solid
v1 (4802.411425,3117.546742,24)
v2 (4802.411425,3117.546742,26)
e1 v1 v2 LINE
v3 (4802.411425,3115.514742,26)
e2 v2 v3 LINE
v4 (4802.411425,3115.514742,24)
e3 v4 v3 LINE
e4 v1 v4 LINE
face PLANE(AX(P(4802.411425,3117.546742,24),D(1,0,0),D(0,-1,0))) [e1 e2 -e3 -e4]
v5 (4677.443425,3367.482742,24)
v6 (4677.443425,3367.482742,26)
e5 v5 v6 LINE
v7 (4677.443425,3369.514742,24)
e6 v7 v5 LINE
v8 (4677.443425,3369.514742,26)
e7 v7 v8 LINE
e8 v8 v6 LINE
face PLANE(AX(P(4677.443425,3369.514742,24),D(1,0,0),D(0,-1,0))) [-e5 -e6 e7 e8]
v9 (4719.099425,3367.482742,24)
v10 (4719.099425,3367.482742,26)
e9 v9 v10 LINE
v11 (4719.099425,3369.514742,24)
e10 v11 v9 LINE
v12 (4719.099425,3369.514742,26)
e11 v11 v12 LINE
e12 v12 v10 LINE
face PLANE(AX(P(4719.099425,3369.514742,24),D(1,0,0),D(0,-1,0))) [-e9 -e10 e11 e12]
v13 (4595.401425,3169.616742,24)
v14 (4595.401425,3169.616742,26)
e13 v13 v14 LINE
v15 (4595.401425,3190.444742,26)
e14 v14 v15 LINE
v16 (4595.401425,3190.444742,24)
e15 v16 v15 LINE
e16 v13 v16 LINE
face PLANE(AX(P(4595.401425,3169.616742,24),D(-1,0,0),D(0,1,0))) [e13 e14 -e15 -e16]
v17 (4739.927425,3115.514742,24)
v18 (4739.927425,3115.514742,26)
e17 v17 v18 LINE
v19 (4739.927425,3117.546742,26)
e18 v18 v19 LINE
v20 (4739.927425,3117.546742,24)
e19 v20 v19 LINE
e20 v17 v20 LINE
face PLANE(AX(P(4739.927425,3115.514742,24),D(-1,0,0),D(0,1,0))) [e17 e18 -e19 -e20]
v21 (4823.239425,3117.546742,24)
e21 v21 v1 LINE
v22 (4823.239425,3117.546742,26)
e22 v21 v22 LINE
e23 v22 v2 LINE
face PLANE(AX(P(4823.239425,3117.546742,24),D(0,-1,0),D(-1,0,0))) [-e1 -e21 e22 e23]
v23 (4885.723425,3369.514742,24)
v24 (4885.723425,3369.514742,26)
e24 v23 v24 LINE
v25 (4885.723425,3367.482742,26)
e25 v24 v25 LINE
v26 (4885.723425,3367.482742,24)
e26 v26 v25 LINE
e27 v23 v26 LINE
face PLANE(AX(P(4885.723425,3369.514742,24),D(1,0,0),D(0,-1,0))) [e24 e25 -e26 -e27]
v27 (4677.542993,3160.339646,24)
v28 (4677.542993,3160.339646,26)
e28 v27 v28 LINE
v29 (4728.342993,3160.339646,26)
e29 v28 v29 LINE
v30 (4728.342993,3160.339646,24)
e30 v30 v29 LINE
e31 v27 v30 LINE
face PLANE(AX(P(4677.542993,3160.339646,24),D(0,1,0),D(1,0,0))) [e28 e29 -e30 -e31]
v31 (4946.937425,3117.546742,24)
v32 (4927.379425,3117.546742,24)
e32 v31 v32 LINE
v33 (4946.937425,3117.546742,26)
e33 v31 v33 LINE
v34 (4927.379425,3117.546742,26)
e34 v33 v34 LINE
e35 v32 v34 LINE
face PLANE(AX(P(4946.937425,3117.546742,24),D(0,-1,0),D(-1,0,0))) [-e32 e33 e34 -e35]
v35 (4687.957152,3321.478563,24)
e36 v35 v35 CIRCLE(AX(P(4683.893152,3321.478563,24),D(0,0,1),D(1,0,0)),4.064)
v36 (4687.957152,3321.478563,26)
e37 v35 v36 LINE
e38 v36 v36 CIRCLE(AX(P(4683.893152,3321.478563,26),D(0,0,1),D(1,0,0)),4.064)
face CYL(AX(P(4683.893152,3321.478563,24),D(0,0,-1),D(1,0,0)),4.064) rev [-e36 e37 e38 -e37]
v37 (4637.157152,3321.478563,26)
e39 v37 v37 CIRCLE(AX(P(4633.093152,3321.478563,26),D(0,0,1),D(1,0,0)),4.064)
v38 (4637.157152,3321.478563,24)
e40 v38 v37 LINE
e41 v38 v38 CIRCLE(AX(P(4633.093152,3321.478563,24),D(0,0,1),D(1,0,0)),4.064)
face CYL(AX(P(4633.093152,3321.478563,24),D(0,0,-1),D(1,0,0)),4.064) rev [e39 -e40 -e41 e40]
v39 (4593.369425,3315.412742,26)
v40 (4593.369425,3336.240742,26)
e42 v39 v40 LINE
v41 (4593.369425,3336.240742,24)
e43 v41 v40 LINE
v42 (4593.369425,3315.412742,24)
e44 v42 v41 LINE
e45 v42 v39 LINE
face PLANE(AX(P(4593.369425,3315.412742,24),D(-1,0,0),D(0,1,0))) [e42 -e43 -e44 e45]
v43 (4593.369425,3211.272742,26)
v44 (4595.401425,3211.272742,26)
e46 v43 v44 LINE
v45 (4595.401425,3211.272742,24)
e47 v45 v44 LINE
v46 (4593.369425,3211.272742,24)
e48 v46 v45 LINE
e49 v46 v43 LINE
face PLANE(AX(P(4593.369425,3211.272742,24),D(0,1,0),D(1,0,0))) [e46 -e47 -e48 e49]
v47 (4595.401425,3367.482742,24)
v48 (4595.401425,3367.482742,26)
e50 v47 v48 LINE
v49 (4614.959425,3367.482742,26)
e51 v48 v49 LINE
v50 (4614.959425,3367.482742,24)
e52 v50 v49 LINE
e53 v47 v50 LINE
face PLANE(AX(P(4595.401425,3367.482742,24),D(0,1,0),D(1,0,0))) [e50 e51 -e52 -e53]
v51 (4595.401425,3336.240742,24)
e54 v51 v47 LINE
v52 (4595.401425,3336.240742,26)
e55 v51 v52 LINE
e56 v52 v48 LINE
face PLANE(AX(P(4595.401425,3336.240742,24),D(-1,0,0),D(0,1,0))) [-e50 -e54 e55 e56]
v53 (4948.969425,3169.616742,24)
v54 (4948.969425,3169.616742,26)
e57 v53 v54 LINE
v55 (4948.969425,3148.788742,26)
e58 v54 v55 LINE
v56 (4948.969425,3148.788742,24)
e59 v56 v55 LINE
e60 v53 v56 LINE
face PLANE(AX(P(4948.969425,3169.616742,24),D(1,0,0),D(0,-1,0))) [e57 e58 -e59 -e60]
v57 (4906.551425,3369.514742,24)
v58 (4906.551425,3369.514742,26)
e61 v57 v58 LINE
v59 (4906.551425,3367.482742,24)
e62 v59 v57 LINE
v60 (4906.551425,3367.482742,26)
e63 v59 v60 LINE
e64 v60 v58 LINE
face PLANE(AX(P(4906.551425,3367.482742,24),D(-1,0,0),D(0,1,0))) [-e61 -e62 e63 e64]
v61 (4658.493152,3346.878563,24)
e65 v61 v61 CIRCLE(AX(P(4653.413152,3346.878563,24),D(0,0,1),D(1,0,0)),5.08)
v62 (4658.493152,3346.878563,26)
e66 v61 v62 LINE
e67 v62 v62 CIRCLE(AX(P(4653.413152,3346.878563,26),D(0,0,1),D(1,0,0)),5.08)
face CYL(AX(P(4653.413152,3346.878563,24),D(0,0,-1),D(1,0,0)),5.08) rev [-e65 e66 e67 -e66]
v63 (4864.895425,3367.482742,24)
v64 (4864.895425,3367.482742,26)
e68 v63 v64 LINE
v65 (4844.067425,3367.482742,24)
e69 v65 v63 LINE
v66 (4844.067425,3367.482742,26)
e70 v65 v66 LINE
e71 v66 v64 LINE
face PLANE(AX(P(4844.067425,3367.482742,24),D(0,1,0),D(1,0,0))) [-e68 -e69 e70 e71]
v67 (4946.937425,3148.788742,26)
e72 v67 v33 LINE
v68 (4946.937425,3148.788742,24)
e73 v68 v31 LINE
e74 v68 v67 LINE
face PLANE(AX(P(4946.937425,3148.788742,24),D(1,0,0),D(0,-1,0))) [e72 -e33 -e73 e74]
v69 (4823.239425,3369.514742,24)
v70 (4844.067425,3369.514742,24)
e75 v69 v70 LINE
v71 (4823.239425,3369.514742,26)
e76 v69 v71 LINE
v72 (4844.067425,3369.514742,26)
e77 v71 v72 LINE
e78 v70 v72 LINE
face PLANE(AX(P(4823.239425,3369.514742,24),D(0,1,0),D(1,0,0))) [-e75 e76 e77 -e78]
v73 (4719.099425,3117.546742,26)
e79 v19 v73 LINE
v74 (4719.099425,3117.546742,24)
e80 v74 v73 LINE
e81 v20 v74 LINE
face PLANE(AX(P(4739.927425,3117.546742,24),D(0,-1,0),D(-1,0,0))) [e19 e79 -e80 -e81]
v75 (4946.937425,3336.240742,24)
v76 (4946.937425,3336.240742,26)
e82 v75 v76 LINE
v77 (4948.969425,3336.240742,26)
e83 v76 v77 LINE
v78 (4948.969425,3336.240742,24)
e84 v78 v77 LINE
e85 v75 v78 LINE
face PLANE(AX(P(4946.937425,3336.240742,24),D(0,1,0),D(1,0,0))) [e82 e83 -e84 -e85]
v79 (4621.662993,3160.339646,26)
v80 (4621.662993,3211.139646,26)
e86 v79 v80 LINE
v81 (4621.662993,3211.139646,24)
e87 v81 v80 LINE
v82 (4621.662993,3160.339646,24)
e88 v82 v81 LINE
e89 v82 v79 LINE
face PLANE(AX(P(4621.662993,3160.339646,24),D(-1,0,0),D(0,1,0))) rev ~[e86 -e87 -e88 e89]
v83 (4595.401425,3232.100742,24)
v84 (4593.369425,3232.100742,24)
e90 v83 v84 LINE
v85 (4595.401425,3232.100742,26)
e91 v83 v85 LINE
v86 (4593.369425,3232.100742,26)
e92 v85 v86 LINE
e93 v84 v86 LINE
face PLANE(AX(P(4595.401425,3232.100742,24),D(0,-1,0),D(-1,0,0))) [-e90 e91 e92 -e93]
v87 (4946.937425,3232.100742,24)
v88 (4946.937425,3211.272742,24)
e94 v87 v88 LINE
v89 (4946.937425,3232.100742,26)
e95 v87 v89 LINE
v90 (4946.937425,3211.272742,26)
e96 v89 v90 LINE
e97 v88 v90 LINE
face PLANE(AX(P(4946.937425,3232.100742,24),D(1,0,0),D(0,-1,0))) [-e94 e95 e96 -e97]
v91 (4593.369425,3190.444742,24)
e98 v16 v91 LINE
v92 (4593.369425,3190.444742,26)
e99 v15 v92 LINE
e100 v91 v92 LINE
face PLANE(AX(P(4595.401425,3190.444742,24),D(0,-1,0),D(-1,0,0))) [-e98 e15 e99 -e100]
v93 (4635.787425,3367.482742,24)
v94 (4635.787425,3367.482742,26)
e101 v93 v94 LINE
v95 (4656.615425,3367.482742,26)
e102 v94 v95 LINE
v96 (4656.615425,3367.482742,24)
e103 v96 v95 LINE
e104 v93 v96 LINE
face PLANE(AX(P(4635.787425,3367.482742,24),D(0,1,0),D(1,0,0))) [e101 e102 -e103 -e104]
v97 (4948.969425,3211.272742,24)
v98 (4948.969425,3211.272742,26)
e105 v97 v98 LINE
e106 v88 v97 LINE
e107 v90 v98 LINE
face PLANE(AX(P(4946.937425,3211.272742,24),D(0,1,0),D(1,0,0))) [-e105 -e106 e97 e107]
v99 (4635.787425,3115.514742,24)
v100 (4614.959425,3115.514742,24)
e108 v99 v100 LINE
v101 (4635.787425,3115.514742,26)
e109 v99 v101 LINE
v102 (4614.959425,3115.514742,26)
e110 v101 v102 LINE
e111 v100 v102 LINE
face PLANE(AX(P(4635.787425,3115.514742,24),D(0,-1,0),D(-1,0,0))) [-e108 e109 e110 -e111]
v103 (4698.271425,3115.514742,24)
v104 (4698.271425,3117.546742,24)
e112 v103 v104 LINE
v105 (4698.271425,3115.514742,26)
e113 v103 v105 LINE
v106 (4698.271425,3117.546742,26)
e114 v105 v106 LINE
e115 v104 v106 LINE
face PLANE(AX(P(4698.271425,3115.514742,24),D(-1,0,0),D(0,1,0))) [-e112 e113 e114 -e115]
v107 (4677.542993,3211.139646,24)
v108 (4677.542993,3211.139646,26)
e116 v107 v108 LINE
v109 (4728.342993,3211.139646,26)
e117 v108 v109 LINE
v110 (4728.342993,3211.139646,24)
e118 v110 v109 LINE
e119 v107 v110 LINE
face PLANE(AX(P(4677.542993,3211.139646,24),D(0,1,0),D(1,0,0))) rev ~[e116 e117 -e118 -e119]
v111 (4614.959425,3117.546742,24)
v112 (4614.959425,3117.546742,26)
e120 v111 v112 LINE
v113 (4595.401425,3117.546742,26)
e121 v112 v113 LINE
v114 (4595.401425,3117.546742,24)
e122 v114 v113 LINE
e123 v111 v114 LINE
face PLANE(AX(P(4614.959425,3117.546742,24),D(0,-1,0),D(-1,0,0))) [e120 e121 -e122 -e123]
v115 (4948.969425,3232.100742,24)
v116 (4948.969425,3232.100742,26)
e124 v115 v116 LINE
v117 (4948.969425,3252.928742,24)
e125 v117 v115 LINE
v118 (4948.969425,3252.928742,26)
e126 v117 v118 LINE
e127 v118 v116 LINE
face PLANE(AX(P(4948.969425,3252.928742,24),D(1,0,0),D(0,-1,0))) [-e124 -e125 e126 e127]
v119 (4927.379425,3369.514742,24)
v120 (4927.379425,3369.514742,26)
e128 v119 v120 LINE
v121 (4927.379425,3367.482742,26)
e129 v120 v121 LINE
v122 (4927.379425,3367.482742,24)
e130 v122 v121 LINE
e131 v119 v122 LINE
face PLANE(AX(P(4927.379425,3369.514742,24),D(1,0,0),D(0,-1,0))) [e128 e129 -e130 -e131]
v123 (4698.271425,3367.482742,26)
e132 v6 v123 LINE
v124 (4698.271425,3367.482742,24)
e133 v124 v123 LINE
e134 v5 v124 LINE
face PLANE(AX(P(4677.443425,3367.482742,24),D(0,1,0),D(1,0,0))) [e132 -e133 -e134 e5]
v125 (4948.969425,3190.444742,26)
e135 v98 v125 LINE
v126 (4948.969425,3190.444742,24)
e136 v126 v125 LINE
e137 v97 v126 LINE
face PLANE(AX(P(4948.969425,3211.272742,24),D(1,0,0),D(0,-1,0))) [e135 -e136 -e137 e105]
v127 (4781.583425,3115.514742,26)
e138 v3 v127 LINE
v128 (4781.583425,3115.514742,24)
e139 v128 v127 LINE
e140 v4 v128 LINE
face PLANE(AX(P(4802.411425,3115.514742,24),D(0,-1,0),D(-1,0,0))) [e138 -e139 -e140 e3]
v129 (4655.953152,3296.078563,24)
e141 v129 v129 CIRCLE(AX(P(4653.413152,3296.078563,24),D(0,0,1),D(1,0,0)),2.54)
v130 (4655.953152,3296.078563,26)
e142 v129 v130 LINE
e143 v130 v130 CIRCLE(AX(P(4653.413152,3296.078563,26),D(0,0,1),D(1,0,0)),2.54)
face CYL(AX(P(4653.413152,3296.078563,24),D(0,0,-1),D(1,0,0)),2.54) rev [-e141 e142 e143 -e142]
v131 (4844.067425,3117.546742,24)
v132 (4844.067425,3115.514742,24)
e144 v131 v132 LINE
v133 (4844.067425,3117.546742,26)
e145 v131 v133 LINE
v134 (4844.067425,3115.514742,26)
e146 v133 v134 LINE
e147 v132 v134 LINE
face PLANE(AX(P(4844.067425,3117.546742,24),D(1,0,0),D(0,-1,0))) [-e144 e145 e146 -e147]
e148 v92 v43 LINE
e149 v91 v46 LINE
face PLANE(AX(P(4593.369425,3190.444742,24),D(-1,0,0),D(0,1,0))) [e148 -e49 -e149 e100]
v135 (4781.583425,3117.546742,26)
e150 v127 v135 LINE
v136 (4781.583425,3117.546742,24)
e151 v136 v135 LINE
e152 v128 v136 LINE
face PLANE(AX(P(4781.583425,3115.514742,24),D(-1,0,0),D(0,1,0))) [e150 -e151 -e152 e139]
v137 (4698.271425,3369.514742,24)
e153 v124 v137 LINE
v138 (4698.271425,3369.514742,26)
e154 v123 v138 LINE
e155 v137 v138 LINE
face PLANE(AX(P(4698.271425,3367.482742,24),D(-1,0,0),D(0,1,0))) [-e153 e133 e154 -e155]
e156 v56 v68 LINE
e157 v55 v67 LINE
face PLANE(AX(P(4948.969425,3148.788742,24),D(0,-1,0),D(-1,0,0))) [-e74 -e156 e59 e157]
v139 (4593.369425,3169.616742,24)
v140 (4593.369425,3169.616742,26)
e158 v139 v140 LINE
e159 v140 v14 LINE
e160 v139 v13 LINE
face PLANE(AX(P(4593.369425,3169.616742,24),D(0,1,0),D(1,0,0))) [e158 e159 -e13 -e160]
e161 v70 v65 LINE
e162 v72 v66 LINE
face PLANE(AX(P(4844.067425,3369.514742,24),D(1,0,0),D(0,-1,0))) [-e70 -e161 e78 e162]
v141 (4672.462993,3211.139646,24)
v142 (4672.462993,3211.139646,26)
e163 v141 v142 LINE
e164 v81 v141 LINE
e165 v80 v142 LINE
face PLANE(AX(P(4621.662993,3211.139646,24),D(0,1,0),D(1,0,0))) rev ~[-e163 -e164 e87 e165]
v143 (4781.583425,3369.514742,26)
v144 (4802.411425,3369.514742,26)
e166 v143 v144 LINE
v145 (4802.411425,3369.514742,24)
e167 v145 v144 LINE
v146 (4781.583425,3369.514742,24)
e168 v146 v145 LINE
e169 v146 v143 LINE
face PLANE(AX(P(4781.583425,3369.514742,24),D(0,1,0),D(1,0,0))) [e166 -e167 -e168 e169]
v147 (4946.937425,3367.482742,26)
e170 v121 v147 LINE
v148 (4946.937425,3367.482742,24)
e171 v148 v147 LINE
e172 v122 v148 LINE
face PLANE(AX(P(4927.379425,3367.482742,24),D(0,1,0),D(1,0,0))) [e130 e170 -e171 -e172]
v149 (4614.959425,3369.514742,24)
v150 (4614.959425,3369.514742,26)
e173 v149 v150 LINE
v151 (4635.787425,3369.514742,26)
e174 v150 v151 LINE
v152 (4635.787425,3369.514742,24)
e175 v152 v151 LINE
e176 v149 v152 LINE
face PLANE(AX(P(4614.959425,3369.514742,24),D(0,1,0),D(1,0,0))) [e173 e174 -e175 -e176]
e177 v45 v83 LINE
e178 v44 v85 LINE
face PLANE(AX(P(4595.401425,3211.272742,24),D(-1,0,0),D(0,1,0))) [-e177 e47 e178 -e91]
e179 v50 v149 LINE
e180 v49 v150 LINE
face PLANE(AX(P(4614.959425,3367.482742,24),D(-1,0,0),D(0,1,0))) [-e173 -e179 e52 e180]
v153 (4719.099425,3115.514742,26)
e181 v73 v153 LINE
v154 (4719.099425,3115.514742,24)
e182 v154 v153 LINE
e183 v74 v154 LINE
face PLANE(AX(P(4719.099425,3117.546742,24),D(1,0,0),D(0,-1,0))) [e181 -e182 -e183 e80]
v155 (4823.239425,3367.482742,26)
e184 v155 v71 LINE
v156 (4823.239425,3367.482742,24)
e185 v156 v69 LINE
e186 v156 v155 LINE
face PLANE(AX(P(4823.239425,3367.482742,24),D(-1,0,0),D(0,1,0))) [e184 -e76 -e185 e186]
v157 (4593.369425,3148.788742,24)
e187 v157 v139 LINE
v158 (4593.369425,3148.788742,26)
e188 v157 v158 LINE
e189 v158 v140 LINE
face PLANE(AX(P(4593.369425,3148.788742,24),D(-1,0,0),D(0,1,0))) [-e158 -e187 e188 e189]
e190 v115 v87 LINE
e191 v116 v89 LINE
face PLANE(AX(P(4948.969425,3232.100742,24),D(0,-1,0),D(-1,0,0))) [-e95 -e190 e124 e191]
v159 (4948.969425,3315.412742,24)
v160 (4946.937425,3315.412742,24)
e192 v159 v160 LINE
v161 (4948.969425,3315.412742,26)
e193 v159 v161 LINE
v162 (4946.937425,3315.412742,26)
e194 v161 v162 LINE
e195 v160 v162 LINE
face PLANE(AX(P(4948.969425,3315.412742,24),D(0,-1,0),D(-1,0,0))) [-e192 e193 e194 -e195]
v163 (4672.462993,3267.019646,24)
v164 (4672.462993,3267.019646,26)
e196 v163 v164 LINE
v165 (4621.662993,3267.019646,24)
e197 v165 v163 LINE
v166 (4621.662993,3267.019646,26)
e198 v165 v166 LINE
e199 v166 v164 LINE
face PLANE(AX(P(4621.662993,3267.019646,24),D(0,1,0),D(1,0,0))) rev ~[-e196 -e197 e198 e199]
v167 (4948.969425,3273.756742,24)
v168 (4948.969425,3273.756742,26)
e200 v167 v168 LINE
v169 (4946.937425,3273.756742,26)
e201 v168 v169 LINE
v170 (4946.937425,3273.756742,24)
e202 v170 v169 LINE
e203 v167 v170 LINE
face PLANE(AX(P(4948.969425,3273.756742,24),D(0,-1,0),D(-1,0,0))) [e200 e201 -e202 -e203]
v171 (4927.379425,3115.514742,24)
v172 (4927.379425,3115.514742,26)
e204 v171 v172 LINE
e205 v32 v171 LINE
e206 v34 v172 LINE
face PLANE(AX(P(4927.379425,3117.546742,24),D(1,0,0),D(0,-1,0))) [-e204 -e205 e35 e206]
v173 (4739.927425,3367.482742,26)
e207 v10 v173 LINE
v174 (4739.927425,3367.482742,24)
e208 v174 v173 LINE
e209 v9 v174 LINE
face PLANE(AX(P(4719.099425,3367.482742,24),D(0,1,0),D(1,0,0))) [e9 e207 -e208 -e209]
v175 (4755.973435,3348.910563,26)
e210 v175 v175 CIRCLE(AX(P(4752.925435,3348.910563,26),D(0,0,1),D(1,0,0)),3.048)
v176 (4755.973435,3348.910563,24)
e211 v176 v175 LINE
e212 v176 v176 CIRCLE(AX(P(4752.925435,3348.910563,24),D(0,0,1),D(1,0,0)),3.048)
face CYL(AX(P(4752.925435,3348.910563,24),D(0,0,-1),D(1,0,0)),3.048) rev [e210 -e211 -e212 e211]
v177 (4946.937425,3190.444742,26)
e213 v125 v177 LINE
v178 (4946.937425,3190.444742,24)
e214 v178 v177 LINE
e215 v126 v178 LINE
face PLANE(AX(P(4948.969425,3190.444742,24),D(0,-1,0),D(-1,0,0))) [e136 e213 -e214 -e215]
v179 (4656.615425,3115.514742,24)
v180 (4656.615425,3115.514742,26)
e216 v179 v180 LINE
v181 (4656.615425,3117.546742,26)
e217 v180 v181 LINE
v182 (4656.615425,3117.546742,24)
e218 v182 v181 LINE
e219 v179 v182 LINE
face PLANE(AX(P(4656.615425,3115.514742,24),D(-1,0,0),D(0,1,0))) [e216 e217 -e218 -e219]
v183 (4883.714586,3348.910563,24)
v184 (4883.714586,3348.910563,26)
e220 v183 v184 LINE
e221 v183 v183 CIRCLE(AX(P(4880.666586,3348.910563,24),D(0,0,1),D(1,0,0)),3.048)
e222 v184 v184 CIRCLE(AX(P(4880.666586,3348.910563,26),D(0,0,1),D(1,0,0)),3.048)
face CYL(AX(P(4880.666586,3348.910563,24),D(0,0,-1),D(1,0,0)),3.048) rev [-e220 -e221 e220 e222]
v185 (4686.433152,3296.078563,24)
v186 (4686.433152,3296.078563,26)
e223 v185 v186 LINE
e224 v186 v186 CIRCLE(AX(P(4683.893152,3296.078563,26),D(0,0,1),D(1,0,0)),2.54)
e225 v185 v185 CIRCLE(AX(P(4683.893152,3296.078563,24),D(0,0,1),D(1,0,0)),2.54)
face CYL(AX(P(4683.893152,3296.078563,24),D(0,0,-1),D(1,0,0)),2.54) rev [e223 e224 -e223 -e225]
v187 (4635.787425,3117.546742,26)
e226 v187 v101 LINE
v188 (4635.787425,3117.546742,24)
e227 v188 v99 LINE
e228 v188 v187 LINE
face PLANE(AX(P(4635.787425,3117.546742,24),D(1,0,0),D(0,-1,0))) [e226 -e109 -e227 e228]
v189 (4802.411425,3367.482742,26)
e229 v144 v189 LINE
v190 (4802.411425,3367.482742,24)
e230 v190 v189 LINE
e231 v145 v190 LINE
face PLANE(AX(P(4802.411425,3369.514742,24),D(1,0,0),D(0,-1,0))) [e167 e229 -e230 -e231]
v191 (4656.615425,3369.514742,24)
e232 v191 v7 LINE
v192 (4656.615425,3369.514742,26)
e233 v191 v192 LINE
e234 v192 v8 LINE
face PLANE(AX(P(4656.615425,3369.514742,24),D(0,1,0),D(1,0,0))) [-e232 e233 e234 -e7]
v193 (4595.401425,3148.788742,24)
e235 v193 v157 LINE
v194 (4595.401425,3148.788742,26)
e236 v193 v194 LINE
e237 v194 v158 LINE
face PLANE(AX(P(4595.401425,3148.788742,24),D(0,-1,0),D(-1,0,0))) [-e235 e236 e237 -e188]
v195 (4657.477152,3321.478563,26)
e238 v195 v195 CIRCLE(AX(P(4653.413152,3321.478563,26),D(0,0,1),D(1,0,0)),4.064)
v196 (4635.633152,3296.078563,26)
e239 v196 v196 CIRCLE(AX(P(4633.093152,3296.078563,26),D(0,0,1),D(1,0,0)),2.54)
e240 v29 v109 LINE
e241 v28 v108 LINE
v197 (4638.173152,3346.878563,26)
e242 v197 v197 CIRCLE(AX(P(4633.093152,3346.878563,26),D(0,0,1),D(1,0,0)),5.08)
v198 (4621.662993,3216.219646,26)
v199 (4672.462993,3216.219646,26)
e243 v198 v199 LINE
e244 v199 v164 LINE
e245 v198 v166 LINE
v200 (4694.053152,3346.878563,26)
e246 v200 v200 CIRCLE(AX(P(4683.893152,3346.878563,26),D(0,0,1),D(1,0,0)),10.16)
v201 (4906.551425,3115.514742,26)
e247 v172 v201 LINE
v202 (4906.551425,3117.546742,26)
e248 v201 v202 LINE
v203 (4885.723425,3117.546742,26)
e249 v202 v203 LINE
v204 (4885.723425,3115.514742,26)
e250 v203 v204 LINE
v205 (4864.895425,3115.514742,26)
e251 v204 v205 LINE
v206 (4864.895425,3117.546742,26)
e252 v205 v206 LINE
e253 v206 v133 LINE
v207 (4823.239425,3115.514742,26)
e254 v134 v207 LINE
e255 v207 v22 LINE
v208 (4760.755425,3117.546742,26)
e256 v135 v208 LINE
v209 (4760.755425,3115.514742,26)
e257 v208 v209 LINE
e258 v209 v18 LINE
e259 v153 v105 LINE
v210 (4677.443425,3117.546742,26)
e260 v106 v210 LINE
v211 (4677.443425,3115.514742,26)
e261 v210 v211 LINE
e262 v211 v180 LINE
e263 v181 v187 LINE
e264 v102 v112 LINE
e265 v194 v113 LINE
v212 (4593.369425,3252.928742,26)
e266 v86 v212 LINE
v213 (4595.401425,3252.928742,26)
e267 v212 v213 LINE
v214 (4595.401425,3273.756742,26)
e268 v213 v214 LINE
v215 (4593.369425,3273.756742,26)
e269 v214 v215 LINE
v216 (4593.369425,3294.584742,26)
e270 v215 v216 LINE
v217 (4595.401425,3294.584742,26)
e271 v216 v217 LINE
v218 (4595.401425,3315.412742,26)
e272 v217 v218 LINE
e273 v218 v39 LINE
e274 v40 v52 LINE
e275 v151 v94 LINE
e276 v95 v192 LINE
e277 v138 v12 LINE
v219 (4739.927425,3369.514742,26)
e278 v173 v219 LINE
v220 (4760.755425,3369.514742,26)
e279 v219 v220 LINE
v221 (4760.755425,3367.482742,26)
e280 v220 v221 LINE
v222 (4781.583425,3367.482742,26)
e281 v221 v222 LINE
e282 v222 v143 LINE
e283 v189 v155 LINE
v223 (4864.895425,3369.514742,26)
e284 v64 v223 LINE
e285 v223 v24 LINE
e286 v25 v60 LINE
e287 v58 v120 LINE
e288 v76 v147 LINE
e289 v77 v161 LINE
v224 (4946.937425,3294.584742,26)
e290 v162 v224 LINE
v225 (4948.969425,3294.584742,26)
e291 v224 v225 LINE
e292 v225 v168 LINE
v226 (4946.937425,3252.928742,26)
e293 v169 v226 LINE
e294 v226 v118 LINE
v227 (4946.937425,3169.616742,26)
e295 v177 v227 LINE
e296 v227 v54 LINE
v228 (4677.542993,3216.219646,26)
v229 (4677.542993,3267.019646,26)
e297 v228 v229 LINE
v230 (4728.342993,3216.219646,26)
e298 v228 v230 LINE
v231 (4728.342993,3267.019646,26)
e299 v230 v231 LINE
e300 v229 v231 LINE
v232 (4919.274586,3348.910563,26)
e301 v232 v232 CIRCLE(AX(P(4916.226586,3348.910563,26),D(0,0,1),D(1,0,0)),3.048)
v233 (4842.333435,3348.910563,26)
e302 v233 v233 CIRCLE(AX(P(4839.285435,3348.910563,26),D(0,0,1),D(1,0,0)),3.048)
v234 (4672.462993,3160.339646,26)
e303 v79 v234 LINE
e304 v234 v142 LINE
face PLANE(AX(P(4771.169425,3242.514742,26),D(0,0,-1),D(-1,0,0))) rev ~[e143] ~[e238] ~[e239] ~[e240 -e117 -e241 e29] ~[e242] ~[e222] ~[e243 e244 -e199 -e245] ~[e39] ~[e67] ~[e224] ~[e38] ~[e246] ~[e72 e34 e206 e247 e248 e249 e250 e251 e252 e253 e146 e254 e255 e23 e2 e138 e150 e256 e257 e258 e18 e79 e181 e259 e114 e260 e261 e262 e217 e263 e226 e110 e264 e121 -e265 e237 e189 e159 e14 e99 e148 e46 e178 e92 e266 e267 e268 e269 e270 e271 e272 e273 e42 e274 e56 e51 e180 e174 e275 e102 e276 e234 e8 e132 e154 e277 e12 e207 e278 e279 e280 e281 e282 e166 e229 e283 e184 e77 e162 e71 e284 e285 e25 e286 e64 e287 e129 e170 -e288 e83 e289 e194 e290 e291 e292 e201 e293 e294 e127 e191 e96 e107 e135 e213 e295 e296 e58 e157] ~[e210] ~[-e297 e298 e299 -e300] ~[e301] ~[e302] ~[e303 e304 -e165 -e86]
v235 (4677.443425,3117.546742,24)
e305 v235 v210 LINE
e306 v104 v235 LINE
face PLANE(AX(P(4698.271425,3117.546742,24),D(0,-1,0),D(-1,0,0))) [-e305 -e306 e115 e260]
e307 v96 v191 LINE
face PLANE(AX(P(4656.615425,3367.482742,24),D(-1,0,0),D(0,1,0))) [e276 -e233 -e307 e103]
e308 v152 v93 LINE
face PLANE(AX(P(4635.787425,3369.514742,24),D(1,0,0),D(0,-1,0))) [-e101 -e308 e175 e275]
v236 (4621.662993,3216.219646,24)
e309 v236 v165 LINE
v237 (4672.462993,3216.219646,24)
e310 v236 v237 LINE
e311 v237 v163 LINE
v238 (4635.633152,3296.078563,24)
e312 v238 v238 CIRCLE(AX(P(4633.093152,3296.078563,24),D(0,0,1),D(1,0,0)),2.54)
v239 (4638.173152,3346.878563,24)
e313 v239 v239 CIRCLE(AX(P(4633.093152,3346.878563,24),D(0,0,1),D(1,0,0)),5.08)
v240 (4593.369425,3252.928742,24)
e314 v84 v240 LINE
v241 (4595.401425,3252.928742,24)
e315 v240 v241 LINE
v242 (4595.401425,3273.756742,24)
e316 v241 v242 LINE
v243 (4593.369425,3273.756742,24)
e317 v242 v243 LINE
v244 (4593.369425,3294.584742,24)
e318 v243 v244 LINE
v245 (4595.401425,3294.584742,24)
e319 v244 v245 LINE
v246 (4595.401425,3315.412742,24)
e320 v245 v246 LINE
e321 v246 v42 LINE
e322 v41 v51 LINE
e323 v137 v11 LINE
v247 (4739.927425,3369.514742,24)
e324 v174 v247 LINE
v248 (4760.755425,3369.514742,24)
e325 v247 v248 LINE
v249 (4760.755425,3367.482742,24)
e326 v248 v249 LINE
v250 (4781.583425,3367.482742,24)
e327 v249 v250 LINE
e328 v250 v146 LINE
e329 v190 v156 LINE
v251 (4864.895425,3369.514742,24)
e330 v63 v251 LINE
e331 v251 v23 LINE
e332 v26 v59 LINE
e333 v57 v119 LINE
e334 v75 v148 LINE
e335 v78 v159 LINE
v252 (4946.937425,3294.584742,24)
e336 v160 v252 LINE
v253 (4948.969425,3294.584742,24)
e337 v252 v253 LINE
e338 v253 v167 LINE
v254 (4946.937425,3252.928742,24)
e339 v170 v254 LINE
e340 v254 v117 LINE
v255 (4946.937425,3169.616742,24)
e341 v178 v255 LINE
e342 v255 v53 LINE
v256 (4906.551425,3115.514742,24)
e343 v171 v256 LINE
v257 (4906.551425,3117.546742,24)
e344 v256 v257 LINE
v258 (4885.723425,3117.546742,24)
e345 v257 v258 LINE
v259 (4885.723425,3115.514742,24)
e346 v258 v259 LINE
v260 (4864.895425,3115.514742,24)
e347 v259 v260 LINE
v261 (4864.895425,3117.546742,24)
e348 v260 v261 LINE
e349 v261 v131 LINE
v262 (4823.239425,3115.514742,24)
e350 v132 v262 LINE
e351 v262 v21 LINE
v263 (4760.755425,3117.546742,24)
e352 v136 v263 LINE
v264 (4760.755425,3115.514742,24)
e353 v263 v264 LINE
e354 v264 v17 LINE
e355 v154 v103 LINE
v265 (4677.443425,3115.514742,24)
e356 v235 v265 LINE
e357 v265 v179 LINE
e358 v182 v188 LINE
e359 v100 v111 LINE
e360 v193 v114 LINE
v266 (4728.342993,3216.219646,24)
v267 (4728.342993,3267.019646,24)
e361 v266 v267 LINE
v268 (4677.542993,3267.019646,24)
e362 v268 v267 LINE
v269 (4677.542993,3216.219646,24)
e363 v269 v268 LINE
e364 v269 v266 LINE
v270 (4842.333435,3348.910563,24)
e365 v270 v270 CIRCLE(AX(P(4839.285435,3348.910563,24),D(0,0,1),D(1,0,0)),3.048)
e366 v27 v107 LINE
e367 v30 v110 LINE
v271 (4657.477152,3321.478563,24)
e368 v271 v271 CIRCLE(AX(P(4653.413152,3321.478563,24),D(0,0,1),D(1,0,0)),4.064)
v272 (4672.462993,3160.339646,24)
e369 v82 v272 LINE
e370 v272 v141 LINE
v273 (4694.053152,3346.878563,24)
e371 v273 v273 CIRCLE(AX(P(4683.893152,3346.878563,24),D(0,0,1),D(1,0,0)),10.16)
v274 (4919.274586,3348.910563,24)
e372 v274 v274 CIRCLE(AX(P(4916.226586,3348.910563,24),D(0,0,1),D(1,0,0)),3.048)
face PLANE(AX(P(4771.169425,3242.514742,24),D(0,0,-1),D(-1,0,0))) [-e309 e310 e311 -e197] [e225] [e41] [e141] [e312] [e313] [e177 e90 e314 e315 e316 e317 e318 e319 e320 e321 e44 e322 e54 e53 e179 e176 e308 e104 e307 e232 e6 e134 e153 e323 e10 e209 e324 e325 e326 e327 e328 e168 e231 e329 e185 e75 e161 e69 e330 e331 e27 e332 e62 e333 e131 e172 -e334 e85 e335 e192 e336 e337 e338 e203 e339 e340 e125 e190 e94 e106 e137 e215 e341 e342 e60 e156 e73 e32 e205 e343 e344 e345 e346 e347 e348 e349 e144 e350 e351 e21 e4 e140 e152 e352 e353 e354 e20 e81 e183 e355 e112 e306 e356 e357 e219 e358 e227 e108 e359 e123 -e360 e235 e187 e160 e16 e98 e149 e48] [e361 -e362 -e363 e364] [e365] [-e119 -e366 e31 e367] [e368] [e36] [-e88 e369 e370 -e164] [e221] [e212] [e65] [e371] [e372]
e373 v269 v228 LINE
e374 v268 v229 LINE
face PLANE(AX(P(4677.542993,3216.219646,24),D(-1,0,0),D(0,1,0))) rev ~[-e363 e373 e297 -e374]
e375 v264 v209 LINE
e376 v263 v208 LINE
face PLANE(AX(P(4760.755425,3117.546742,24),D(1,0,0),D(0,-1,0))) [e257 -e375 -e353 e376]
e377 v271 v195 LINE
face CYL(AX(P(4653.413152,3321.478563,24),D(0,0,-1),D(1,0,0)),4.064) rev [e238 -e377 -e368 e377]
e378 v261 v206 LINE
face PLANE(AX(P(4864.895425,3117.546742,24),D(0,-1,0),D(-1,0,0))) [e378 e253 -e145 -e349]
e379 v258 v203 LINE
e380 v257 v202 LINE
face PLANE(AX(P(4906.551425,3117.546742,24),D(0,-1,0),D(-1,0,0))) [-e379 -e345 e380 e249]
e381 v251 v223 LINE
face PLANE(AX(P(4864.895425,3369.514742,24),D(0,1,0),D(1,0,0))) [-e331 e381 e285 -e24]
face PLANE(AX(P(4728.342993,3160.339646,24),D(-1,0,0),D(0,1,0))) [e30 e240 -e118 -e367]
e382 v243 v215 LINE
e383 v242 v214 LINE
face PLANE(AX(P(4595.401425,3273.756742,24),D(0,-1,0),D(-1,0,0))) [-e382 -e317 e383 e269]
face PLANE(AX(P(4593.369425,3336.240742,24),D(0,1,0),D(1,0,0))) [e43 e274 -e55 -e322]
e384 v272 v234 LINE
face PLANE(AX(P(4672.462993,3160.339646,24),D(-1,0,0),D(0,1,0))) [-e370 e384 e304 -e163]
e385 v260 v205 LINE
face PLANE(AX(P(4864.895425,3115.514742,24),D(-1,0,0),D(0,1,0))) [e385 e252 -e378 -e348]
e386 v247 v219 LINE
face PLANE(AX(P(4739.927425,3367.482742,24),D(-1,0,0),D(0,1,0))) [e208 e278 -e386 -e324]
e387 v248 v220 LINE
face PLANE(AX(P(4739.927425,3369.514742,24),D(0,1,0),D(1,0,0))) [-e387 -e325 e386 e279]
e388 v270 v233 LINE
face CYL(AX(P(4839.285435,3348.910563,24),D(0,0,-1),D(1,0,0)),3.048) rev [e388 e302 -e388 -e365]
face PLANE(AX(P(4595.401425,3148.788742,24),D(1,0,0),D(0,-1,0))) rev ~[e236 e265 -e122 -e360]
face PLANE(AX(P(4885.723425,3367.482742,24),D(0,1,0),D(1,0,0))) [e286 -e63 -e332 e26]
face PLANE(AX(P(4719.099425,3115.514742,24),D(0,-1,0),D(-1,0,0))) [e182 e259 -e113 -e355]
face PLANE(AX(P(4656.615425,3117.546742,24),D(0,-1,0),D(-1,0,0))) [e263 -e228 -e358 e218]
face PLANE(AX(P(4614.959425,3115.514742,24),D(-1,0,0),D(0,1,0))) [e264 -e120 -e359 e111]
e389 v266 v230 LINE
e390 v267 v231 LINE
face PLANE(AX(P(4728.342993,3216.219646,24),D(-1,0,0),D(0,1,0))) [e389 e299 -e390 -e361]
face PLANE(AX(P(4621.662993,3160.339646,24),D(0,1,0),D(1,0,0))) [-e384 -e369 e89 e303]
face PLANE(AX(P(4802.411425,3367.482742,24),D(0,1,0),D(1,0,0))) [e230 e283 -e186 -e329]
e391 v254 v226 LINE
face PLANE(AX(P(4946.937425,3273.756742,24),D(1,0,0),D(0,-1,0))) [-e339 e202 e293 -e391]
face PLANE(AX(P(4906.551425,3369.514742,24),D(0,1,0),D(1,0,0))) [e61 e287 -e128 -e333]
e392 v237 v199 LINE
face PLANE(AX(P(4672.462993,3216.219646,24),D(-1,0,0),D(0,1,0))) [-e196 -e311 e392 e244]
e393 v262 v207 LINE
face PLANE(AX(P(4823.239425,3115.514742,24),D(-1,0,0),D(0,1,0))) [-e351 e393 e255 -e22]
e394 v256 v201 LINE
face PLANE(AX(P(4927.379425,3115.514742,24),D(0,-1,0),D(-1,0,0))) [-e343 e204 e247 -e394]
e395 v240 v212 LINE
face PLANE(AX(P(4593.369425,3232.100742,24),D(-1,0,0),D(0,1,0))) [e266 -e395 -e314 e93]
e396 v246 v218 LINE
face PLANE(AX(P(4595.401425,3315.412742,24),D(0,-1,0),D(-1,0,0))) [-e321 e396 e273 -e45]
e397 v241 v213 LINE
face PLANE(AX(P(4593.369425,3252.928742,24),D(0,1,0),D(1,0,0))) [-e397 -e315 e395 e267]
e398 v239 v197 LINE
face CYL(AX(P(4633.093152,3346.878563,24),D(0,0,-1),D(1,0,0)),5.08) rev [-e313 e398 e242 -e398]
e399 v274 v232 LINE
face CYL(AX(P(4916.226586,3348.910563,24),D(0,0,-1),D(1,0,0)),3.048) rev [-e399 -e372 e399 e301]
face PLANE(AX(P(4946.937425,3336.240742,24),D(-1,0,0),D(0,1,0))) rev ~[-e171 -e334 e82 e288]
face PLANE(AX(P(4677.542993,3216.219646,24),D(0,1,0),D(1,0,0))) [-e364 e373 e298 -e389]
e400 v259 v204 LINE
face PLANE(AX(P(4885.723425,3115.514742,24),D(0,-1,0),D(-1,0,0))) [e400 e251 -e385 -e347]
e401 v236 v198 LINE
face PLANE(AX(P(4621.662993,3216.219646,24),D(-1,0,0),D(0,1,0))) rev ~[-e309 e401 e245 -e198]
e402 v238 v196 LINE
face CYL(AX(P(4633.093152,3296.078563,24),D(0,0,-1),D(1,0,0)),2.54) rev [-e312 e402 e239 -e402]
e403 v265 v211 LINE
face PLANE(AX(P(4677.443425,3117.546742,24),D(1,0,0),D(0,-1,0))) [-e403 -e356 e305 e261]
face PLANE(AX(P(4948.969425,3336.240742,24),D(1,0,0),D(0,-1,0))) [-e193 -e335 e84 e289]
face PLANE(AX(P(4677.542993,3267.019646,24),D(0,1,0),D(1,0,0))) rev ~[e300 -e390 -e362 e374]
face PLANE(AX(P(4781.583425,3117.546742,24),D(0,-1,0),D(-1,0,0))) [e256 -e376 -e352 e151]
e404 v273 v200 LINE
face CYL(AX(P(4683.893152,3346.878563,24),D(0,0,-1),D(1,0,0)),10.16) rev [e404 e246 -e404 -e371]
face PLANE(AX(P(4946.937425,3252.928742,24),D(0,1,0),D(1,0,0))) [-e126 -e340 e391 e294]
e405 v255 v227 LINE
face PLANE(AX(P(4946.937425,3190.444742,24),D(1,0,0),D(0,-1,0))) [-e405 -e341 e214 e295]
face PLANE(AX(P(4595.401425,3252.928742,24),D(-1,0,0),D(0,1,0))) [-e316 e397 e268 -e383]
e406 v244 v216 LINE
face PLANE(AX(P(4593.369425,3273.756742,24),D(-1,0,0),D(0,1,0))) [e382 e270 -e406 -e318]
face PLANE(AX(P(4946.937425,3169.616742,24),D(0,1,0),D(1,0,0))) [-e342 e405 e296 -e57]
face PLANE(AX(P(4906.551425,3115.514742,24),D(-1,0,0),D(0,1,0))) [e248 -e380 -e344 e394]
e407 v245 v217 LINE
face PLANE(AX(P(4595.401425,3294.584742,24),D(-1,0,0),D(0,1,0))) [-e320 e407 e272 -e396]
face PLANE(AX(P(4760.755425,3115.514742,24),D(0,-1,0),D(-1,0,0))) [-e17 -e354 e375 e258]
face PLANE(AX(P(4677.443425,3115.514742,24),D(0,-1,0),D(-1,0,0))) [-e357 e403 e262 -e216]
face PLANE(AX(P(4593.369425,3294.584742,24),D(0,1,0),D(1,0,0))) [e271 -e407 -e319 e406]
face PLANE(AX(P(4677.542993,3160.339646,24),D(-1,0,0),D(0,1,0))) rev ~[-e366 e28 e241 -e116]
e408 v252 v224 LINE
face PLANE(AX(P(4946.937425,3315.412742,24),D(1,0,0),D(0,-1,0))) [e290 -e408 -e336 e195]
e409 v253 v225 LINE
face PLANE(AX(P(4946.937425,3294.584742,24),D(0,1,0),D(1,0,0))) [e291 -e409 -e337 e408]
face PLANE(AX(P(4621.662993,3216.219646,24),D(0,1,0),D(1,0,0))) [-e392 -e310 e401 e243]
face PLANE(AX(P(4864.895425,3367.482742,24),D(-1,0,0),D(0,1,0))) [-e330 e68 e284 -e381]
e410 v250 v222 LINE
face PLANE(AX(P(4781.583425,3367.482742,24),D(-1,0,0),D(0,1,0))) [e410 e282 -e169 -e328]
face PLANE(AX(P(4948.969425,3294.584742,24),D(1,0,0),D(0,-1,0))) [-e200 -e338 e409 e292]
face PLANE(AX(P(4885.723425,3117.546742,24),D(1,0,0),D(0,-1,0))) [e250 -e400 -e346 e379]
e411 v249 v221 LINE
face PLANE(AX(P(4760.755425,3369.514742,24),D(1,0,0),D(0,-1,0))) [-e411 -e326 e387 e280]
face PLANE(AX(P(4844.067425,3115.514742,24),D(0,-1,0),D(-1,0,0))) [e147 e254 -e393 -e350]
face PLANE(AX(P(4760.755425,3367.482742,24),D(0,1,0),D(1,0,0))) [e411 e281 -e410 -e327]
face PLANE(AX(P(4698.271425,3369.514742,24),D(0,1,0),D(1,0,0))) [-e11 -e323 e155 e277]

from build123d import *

# Parameters (mm, degrees)
SKETCH1_R           = 63.5
SKETCH1_R_2         = 76.2
SKETCH1_R_3         = 127
SKETCH1_R_4         = 101.6
SKETCH1_R_5         = 254
SKETCH1_W           = 1270
SKETCH1_H           = 1270
BOSS_EXTRUDE1_DEPTH = 50
SCALE1_SCALE        = 0.04


with BuildPart() as part:
    # Sketch1 → Boss-Extrude1 (new body)
    with BuildSketch(Plane.XY):
        Polygon((50.8, 3435.35), (50.8, 3956.05), (0, 3956.05), (0, 4476.75), (50.8, 4476.75), (50.8, 4997.45), (0, 4997.45), (0, 5518.15), (50.8, 5518.15), (50.8, 6299.2), (539.75, 6299.2), (539.75, 6350), (1060.45, 6350), (1060.45, 6299.2), (1581.15, 6299.2), (1581.15, 6350), (2101.85, 6350), (2101.85, 6299.2), (2622.55, 6299.2), (2622.55, 6350), (3143.25, 6350), (3143.25, 6299.2), (3663.95, 6299.2), (3663.95, 6350), (4184.65, 6350), (4184.65, 6299.2), (4705.35, 6299.2), (4705.35, 6350), (5226.05, 6350), (5226.05, 6299.2), (5746.75, 6299.2), (5746.75, 6350), (6267.45, 6350), (6267.45, 6299.2), (6788.15, 6299.2), (6788.15, 6350), (7308.85, 6350), (7308.85, 6299.2), (7829.55, 6299.2), (7829.55, 6350), (8350.25, 6350), (8350.25, 6299.2), (8839.2, 6299.2), (8839.2, 6038.85), (8839.2, 5518.15), (8890, 5518.15), (8890, 4997.45), (8839.2, 4997.45), (8839.2, 4476.75), (8890, 4476.75), (8890, 3956.05), (8839.2, 3956.05), (8839.2, 3435.35), (8890, 3435.35), (8890, 2914.65), (8839.2, 2914.65), (8839.2, 2393.95), (8890, 2393.95), (8890, 1873.25), (8839.2, 1873.25), (8839.2, 1352.55), (8890, 1352.55), (8890, 831.85), (8839.2, 831.85), (8839.2, 50.8), (8350.25, 50.8), (8350.25, 0), (7829.55, 0), (7829.55, 50.8), (7308.85, 50.8), (7308.85, 0), (6788.15, 0), (6788.15, 50.8), (6267.45, 50.8), (6267.45, 0), (5746.75, 0), (5746.75, 50.8), (5226.05, 50.8), (5226.05, 0), (4705.35, 0), (4705.35, 50.8), (4184.65, 50.8), (4184.65, 0), (3663.95, 0), (3663.95, 50.8), (3143.25, 50.8), (3143.25, 0), (2622.55, 0), (2622.55, 50.8), (2101.85, 50.8), (2101.85, 0), (1581.15, 0), (1581.15, 50.8), (1060.45, 50.8), (1060.45, 0), (539.75, 0), (539.75, 50.8), (50.8, 50.8), (50.8, 311.15), (50.8, 831.85), (0, 831.85), (0, 1352.55), (50.8, 1352.55), (50.8, 1873.25), (0, 1873.25), (0, 2393.95), (50.8, 2393.95), (50.8, 2914.65), (0, 2914.65), (0, 3435.35), align=None)
        with Locations((2263.093189832, 4514.095537704)):
            Circle(SKETCH1_R, mode=Mode.SUBTRACT)
        with Locations((7182.429020432, 5834.895537704)):
            Circle(SKETCH1_R_2, mode=Mode.SUBTRACT)
        with Locations((6147.900253832, 5834.895537704)):
            Circle(SKETCH1_R_2, mode=Mode.SUBTRACT)
        with Locations((8071.429020432, 5834.895537704)):
            Circle(SKETCH1_R_2, mode=Mode.SUBTRACT)
        with Locations((3988.900253832, 5834.895537704)):
            Circle(SKETCH1_R_2, mode=Mode.SUBTRACT)
        with Locations((993.093189832, 5784.095537704)):
            Circle(SKETCH1_R_3, mode=Mode.SUBTRACT)
        with Locations((993.093189832, 5149.095537704)):
            Circle(SKETCH1_R_4, mode=Mode.SUBTRACT)
        with Locations((993.093189832, 4514.095537704)):
            Circle(SKETCH1_R, mode=Mode.SUBTRACT)
        with Locations((1501.093189832, 5784.095537704)):
            Circle(SKETCH1_R_3, mode=Mode.SUBTRACT)
        with Locations((1501.093189832, 5149.095537704)):
            Circle(SKETCH1_R_4, mode=Mode.SUBTRACT)
        with Locations((1501.093189832, 4514.095537704)):
            Circle(SKETCH1_R, mode=Mode.SUBTRACT)
        with Locations((2263.093189832, 5784.095537704)):
            Circle(SKETCH1_R_5, mode=Mode.SUBTRACT)
        with Locations((2263.093189832, 5149.095537704)):
            Circle(SKETCH1_R_4, mode=Mode.SUBTRACT)
        with Locations((2739.3392, 3152.6226)):
            Rectangle(SKETCH1_W, SKETCH1_H, mode=Mode.SUBTRACT)
        with Locations((2739.3392, 1755.6226)):
            Rectangle(SKETCH1_W, SKETCH1_H, mode=Mode.SUBTRACT)
        with Locations((1342.3392, 1755.6226)):
            Rectangle(SKETCH1_W, SKETCH1_H, mode=Mode.SUBTRACT)
        with Locations((1342.3392, 3152.6226)):
            Rectangle(SKETCH1_W, SKETCH1_H, mode=Mode.SUBTRACT)
    extrude(amount=BOSS_EXTRUDE1_DEPTH)


with BuildPart() as part_1:
    # Scale1: scaled about (4784.759817545, 3245.327855947, 25)
    add(part.part.scale(SCALE1_SCALE).moved(Location((4593.369424843, 3115.514741709, 24))))


solid = part_1.part
